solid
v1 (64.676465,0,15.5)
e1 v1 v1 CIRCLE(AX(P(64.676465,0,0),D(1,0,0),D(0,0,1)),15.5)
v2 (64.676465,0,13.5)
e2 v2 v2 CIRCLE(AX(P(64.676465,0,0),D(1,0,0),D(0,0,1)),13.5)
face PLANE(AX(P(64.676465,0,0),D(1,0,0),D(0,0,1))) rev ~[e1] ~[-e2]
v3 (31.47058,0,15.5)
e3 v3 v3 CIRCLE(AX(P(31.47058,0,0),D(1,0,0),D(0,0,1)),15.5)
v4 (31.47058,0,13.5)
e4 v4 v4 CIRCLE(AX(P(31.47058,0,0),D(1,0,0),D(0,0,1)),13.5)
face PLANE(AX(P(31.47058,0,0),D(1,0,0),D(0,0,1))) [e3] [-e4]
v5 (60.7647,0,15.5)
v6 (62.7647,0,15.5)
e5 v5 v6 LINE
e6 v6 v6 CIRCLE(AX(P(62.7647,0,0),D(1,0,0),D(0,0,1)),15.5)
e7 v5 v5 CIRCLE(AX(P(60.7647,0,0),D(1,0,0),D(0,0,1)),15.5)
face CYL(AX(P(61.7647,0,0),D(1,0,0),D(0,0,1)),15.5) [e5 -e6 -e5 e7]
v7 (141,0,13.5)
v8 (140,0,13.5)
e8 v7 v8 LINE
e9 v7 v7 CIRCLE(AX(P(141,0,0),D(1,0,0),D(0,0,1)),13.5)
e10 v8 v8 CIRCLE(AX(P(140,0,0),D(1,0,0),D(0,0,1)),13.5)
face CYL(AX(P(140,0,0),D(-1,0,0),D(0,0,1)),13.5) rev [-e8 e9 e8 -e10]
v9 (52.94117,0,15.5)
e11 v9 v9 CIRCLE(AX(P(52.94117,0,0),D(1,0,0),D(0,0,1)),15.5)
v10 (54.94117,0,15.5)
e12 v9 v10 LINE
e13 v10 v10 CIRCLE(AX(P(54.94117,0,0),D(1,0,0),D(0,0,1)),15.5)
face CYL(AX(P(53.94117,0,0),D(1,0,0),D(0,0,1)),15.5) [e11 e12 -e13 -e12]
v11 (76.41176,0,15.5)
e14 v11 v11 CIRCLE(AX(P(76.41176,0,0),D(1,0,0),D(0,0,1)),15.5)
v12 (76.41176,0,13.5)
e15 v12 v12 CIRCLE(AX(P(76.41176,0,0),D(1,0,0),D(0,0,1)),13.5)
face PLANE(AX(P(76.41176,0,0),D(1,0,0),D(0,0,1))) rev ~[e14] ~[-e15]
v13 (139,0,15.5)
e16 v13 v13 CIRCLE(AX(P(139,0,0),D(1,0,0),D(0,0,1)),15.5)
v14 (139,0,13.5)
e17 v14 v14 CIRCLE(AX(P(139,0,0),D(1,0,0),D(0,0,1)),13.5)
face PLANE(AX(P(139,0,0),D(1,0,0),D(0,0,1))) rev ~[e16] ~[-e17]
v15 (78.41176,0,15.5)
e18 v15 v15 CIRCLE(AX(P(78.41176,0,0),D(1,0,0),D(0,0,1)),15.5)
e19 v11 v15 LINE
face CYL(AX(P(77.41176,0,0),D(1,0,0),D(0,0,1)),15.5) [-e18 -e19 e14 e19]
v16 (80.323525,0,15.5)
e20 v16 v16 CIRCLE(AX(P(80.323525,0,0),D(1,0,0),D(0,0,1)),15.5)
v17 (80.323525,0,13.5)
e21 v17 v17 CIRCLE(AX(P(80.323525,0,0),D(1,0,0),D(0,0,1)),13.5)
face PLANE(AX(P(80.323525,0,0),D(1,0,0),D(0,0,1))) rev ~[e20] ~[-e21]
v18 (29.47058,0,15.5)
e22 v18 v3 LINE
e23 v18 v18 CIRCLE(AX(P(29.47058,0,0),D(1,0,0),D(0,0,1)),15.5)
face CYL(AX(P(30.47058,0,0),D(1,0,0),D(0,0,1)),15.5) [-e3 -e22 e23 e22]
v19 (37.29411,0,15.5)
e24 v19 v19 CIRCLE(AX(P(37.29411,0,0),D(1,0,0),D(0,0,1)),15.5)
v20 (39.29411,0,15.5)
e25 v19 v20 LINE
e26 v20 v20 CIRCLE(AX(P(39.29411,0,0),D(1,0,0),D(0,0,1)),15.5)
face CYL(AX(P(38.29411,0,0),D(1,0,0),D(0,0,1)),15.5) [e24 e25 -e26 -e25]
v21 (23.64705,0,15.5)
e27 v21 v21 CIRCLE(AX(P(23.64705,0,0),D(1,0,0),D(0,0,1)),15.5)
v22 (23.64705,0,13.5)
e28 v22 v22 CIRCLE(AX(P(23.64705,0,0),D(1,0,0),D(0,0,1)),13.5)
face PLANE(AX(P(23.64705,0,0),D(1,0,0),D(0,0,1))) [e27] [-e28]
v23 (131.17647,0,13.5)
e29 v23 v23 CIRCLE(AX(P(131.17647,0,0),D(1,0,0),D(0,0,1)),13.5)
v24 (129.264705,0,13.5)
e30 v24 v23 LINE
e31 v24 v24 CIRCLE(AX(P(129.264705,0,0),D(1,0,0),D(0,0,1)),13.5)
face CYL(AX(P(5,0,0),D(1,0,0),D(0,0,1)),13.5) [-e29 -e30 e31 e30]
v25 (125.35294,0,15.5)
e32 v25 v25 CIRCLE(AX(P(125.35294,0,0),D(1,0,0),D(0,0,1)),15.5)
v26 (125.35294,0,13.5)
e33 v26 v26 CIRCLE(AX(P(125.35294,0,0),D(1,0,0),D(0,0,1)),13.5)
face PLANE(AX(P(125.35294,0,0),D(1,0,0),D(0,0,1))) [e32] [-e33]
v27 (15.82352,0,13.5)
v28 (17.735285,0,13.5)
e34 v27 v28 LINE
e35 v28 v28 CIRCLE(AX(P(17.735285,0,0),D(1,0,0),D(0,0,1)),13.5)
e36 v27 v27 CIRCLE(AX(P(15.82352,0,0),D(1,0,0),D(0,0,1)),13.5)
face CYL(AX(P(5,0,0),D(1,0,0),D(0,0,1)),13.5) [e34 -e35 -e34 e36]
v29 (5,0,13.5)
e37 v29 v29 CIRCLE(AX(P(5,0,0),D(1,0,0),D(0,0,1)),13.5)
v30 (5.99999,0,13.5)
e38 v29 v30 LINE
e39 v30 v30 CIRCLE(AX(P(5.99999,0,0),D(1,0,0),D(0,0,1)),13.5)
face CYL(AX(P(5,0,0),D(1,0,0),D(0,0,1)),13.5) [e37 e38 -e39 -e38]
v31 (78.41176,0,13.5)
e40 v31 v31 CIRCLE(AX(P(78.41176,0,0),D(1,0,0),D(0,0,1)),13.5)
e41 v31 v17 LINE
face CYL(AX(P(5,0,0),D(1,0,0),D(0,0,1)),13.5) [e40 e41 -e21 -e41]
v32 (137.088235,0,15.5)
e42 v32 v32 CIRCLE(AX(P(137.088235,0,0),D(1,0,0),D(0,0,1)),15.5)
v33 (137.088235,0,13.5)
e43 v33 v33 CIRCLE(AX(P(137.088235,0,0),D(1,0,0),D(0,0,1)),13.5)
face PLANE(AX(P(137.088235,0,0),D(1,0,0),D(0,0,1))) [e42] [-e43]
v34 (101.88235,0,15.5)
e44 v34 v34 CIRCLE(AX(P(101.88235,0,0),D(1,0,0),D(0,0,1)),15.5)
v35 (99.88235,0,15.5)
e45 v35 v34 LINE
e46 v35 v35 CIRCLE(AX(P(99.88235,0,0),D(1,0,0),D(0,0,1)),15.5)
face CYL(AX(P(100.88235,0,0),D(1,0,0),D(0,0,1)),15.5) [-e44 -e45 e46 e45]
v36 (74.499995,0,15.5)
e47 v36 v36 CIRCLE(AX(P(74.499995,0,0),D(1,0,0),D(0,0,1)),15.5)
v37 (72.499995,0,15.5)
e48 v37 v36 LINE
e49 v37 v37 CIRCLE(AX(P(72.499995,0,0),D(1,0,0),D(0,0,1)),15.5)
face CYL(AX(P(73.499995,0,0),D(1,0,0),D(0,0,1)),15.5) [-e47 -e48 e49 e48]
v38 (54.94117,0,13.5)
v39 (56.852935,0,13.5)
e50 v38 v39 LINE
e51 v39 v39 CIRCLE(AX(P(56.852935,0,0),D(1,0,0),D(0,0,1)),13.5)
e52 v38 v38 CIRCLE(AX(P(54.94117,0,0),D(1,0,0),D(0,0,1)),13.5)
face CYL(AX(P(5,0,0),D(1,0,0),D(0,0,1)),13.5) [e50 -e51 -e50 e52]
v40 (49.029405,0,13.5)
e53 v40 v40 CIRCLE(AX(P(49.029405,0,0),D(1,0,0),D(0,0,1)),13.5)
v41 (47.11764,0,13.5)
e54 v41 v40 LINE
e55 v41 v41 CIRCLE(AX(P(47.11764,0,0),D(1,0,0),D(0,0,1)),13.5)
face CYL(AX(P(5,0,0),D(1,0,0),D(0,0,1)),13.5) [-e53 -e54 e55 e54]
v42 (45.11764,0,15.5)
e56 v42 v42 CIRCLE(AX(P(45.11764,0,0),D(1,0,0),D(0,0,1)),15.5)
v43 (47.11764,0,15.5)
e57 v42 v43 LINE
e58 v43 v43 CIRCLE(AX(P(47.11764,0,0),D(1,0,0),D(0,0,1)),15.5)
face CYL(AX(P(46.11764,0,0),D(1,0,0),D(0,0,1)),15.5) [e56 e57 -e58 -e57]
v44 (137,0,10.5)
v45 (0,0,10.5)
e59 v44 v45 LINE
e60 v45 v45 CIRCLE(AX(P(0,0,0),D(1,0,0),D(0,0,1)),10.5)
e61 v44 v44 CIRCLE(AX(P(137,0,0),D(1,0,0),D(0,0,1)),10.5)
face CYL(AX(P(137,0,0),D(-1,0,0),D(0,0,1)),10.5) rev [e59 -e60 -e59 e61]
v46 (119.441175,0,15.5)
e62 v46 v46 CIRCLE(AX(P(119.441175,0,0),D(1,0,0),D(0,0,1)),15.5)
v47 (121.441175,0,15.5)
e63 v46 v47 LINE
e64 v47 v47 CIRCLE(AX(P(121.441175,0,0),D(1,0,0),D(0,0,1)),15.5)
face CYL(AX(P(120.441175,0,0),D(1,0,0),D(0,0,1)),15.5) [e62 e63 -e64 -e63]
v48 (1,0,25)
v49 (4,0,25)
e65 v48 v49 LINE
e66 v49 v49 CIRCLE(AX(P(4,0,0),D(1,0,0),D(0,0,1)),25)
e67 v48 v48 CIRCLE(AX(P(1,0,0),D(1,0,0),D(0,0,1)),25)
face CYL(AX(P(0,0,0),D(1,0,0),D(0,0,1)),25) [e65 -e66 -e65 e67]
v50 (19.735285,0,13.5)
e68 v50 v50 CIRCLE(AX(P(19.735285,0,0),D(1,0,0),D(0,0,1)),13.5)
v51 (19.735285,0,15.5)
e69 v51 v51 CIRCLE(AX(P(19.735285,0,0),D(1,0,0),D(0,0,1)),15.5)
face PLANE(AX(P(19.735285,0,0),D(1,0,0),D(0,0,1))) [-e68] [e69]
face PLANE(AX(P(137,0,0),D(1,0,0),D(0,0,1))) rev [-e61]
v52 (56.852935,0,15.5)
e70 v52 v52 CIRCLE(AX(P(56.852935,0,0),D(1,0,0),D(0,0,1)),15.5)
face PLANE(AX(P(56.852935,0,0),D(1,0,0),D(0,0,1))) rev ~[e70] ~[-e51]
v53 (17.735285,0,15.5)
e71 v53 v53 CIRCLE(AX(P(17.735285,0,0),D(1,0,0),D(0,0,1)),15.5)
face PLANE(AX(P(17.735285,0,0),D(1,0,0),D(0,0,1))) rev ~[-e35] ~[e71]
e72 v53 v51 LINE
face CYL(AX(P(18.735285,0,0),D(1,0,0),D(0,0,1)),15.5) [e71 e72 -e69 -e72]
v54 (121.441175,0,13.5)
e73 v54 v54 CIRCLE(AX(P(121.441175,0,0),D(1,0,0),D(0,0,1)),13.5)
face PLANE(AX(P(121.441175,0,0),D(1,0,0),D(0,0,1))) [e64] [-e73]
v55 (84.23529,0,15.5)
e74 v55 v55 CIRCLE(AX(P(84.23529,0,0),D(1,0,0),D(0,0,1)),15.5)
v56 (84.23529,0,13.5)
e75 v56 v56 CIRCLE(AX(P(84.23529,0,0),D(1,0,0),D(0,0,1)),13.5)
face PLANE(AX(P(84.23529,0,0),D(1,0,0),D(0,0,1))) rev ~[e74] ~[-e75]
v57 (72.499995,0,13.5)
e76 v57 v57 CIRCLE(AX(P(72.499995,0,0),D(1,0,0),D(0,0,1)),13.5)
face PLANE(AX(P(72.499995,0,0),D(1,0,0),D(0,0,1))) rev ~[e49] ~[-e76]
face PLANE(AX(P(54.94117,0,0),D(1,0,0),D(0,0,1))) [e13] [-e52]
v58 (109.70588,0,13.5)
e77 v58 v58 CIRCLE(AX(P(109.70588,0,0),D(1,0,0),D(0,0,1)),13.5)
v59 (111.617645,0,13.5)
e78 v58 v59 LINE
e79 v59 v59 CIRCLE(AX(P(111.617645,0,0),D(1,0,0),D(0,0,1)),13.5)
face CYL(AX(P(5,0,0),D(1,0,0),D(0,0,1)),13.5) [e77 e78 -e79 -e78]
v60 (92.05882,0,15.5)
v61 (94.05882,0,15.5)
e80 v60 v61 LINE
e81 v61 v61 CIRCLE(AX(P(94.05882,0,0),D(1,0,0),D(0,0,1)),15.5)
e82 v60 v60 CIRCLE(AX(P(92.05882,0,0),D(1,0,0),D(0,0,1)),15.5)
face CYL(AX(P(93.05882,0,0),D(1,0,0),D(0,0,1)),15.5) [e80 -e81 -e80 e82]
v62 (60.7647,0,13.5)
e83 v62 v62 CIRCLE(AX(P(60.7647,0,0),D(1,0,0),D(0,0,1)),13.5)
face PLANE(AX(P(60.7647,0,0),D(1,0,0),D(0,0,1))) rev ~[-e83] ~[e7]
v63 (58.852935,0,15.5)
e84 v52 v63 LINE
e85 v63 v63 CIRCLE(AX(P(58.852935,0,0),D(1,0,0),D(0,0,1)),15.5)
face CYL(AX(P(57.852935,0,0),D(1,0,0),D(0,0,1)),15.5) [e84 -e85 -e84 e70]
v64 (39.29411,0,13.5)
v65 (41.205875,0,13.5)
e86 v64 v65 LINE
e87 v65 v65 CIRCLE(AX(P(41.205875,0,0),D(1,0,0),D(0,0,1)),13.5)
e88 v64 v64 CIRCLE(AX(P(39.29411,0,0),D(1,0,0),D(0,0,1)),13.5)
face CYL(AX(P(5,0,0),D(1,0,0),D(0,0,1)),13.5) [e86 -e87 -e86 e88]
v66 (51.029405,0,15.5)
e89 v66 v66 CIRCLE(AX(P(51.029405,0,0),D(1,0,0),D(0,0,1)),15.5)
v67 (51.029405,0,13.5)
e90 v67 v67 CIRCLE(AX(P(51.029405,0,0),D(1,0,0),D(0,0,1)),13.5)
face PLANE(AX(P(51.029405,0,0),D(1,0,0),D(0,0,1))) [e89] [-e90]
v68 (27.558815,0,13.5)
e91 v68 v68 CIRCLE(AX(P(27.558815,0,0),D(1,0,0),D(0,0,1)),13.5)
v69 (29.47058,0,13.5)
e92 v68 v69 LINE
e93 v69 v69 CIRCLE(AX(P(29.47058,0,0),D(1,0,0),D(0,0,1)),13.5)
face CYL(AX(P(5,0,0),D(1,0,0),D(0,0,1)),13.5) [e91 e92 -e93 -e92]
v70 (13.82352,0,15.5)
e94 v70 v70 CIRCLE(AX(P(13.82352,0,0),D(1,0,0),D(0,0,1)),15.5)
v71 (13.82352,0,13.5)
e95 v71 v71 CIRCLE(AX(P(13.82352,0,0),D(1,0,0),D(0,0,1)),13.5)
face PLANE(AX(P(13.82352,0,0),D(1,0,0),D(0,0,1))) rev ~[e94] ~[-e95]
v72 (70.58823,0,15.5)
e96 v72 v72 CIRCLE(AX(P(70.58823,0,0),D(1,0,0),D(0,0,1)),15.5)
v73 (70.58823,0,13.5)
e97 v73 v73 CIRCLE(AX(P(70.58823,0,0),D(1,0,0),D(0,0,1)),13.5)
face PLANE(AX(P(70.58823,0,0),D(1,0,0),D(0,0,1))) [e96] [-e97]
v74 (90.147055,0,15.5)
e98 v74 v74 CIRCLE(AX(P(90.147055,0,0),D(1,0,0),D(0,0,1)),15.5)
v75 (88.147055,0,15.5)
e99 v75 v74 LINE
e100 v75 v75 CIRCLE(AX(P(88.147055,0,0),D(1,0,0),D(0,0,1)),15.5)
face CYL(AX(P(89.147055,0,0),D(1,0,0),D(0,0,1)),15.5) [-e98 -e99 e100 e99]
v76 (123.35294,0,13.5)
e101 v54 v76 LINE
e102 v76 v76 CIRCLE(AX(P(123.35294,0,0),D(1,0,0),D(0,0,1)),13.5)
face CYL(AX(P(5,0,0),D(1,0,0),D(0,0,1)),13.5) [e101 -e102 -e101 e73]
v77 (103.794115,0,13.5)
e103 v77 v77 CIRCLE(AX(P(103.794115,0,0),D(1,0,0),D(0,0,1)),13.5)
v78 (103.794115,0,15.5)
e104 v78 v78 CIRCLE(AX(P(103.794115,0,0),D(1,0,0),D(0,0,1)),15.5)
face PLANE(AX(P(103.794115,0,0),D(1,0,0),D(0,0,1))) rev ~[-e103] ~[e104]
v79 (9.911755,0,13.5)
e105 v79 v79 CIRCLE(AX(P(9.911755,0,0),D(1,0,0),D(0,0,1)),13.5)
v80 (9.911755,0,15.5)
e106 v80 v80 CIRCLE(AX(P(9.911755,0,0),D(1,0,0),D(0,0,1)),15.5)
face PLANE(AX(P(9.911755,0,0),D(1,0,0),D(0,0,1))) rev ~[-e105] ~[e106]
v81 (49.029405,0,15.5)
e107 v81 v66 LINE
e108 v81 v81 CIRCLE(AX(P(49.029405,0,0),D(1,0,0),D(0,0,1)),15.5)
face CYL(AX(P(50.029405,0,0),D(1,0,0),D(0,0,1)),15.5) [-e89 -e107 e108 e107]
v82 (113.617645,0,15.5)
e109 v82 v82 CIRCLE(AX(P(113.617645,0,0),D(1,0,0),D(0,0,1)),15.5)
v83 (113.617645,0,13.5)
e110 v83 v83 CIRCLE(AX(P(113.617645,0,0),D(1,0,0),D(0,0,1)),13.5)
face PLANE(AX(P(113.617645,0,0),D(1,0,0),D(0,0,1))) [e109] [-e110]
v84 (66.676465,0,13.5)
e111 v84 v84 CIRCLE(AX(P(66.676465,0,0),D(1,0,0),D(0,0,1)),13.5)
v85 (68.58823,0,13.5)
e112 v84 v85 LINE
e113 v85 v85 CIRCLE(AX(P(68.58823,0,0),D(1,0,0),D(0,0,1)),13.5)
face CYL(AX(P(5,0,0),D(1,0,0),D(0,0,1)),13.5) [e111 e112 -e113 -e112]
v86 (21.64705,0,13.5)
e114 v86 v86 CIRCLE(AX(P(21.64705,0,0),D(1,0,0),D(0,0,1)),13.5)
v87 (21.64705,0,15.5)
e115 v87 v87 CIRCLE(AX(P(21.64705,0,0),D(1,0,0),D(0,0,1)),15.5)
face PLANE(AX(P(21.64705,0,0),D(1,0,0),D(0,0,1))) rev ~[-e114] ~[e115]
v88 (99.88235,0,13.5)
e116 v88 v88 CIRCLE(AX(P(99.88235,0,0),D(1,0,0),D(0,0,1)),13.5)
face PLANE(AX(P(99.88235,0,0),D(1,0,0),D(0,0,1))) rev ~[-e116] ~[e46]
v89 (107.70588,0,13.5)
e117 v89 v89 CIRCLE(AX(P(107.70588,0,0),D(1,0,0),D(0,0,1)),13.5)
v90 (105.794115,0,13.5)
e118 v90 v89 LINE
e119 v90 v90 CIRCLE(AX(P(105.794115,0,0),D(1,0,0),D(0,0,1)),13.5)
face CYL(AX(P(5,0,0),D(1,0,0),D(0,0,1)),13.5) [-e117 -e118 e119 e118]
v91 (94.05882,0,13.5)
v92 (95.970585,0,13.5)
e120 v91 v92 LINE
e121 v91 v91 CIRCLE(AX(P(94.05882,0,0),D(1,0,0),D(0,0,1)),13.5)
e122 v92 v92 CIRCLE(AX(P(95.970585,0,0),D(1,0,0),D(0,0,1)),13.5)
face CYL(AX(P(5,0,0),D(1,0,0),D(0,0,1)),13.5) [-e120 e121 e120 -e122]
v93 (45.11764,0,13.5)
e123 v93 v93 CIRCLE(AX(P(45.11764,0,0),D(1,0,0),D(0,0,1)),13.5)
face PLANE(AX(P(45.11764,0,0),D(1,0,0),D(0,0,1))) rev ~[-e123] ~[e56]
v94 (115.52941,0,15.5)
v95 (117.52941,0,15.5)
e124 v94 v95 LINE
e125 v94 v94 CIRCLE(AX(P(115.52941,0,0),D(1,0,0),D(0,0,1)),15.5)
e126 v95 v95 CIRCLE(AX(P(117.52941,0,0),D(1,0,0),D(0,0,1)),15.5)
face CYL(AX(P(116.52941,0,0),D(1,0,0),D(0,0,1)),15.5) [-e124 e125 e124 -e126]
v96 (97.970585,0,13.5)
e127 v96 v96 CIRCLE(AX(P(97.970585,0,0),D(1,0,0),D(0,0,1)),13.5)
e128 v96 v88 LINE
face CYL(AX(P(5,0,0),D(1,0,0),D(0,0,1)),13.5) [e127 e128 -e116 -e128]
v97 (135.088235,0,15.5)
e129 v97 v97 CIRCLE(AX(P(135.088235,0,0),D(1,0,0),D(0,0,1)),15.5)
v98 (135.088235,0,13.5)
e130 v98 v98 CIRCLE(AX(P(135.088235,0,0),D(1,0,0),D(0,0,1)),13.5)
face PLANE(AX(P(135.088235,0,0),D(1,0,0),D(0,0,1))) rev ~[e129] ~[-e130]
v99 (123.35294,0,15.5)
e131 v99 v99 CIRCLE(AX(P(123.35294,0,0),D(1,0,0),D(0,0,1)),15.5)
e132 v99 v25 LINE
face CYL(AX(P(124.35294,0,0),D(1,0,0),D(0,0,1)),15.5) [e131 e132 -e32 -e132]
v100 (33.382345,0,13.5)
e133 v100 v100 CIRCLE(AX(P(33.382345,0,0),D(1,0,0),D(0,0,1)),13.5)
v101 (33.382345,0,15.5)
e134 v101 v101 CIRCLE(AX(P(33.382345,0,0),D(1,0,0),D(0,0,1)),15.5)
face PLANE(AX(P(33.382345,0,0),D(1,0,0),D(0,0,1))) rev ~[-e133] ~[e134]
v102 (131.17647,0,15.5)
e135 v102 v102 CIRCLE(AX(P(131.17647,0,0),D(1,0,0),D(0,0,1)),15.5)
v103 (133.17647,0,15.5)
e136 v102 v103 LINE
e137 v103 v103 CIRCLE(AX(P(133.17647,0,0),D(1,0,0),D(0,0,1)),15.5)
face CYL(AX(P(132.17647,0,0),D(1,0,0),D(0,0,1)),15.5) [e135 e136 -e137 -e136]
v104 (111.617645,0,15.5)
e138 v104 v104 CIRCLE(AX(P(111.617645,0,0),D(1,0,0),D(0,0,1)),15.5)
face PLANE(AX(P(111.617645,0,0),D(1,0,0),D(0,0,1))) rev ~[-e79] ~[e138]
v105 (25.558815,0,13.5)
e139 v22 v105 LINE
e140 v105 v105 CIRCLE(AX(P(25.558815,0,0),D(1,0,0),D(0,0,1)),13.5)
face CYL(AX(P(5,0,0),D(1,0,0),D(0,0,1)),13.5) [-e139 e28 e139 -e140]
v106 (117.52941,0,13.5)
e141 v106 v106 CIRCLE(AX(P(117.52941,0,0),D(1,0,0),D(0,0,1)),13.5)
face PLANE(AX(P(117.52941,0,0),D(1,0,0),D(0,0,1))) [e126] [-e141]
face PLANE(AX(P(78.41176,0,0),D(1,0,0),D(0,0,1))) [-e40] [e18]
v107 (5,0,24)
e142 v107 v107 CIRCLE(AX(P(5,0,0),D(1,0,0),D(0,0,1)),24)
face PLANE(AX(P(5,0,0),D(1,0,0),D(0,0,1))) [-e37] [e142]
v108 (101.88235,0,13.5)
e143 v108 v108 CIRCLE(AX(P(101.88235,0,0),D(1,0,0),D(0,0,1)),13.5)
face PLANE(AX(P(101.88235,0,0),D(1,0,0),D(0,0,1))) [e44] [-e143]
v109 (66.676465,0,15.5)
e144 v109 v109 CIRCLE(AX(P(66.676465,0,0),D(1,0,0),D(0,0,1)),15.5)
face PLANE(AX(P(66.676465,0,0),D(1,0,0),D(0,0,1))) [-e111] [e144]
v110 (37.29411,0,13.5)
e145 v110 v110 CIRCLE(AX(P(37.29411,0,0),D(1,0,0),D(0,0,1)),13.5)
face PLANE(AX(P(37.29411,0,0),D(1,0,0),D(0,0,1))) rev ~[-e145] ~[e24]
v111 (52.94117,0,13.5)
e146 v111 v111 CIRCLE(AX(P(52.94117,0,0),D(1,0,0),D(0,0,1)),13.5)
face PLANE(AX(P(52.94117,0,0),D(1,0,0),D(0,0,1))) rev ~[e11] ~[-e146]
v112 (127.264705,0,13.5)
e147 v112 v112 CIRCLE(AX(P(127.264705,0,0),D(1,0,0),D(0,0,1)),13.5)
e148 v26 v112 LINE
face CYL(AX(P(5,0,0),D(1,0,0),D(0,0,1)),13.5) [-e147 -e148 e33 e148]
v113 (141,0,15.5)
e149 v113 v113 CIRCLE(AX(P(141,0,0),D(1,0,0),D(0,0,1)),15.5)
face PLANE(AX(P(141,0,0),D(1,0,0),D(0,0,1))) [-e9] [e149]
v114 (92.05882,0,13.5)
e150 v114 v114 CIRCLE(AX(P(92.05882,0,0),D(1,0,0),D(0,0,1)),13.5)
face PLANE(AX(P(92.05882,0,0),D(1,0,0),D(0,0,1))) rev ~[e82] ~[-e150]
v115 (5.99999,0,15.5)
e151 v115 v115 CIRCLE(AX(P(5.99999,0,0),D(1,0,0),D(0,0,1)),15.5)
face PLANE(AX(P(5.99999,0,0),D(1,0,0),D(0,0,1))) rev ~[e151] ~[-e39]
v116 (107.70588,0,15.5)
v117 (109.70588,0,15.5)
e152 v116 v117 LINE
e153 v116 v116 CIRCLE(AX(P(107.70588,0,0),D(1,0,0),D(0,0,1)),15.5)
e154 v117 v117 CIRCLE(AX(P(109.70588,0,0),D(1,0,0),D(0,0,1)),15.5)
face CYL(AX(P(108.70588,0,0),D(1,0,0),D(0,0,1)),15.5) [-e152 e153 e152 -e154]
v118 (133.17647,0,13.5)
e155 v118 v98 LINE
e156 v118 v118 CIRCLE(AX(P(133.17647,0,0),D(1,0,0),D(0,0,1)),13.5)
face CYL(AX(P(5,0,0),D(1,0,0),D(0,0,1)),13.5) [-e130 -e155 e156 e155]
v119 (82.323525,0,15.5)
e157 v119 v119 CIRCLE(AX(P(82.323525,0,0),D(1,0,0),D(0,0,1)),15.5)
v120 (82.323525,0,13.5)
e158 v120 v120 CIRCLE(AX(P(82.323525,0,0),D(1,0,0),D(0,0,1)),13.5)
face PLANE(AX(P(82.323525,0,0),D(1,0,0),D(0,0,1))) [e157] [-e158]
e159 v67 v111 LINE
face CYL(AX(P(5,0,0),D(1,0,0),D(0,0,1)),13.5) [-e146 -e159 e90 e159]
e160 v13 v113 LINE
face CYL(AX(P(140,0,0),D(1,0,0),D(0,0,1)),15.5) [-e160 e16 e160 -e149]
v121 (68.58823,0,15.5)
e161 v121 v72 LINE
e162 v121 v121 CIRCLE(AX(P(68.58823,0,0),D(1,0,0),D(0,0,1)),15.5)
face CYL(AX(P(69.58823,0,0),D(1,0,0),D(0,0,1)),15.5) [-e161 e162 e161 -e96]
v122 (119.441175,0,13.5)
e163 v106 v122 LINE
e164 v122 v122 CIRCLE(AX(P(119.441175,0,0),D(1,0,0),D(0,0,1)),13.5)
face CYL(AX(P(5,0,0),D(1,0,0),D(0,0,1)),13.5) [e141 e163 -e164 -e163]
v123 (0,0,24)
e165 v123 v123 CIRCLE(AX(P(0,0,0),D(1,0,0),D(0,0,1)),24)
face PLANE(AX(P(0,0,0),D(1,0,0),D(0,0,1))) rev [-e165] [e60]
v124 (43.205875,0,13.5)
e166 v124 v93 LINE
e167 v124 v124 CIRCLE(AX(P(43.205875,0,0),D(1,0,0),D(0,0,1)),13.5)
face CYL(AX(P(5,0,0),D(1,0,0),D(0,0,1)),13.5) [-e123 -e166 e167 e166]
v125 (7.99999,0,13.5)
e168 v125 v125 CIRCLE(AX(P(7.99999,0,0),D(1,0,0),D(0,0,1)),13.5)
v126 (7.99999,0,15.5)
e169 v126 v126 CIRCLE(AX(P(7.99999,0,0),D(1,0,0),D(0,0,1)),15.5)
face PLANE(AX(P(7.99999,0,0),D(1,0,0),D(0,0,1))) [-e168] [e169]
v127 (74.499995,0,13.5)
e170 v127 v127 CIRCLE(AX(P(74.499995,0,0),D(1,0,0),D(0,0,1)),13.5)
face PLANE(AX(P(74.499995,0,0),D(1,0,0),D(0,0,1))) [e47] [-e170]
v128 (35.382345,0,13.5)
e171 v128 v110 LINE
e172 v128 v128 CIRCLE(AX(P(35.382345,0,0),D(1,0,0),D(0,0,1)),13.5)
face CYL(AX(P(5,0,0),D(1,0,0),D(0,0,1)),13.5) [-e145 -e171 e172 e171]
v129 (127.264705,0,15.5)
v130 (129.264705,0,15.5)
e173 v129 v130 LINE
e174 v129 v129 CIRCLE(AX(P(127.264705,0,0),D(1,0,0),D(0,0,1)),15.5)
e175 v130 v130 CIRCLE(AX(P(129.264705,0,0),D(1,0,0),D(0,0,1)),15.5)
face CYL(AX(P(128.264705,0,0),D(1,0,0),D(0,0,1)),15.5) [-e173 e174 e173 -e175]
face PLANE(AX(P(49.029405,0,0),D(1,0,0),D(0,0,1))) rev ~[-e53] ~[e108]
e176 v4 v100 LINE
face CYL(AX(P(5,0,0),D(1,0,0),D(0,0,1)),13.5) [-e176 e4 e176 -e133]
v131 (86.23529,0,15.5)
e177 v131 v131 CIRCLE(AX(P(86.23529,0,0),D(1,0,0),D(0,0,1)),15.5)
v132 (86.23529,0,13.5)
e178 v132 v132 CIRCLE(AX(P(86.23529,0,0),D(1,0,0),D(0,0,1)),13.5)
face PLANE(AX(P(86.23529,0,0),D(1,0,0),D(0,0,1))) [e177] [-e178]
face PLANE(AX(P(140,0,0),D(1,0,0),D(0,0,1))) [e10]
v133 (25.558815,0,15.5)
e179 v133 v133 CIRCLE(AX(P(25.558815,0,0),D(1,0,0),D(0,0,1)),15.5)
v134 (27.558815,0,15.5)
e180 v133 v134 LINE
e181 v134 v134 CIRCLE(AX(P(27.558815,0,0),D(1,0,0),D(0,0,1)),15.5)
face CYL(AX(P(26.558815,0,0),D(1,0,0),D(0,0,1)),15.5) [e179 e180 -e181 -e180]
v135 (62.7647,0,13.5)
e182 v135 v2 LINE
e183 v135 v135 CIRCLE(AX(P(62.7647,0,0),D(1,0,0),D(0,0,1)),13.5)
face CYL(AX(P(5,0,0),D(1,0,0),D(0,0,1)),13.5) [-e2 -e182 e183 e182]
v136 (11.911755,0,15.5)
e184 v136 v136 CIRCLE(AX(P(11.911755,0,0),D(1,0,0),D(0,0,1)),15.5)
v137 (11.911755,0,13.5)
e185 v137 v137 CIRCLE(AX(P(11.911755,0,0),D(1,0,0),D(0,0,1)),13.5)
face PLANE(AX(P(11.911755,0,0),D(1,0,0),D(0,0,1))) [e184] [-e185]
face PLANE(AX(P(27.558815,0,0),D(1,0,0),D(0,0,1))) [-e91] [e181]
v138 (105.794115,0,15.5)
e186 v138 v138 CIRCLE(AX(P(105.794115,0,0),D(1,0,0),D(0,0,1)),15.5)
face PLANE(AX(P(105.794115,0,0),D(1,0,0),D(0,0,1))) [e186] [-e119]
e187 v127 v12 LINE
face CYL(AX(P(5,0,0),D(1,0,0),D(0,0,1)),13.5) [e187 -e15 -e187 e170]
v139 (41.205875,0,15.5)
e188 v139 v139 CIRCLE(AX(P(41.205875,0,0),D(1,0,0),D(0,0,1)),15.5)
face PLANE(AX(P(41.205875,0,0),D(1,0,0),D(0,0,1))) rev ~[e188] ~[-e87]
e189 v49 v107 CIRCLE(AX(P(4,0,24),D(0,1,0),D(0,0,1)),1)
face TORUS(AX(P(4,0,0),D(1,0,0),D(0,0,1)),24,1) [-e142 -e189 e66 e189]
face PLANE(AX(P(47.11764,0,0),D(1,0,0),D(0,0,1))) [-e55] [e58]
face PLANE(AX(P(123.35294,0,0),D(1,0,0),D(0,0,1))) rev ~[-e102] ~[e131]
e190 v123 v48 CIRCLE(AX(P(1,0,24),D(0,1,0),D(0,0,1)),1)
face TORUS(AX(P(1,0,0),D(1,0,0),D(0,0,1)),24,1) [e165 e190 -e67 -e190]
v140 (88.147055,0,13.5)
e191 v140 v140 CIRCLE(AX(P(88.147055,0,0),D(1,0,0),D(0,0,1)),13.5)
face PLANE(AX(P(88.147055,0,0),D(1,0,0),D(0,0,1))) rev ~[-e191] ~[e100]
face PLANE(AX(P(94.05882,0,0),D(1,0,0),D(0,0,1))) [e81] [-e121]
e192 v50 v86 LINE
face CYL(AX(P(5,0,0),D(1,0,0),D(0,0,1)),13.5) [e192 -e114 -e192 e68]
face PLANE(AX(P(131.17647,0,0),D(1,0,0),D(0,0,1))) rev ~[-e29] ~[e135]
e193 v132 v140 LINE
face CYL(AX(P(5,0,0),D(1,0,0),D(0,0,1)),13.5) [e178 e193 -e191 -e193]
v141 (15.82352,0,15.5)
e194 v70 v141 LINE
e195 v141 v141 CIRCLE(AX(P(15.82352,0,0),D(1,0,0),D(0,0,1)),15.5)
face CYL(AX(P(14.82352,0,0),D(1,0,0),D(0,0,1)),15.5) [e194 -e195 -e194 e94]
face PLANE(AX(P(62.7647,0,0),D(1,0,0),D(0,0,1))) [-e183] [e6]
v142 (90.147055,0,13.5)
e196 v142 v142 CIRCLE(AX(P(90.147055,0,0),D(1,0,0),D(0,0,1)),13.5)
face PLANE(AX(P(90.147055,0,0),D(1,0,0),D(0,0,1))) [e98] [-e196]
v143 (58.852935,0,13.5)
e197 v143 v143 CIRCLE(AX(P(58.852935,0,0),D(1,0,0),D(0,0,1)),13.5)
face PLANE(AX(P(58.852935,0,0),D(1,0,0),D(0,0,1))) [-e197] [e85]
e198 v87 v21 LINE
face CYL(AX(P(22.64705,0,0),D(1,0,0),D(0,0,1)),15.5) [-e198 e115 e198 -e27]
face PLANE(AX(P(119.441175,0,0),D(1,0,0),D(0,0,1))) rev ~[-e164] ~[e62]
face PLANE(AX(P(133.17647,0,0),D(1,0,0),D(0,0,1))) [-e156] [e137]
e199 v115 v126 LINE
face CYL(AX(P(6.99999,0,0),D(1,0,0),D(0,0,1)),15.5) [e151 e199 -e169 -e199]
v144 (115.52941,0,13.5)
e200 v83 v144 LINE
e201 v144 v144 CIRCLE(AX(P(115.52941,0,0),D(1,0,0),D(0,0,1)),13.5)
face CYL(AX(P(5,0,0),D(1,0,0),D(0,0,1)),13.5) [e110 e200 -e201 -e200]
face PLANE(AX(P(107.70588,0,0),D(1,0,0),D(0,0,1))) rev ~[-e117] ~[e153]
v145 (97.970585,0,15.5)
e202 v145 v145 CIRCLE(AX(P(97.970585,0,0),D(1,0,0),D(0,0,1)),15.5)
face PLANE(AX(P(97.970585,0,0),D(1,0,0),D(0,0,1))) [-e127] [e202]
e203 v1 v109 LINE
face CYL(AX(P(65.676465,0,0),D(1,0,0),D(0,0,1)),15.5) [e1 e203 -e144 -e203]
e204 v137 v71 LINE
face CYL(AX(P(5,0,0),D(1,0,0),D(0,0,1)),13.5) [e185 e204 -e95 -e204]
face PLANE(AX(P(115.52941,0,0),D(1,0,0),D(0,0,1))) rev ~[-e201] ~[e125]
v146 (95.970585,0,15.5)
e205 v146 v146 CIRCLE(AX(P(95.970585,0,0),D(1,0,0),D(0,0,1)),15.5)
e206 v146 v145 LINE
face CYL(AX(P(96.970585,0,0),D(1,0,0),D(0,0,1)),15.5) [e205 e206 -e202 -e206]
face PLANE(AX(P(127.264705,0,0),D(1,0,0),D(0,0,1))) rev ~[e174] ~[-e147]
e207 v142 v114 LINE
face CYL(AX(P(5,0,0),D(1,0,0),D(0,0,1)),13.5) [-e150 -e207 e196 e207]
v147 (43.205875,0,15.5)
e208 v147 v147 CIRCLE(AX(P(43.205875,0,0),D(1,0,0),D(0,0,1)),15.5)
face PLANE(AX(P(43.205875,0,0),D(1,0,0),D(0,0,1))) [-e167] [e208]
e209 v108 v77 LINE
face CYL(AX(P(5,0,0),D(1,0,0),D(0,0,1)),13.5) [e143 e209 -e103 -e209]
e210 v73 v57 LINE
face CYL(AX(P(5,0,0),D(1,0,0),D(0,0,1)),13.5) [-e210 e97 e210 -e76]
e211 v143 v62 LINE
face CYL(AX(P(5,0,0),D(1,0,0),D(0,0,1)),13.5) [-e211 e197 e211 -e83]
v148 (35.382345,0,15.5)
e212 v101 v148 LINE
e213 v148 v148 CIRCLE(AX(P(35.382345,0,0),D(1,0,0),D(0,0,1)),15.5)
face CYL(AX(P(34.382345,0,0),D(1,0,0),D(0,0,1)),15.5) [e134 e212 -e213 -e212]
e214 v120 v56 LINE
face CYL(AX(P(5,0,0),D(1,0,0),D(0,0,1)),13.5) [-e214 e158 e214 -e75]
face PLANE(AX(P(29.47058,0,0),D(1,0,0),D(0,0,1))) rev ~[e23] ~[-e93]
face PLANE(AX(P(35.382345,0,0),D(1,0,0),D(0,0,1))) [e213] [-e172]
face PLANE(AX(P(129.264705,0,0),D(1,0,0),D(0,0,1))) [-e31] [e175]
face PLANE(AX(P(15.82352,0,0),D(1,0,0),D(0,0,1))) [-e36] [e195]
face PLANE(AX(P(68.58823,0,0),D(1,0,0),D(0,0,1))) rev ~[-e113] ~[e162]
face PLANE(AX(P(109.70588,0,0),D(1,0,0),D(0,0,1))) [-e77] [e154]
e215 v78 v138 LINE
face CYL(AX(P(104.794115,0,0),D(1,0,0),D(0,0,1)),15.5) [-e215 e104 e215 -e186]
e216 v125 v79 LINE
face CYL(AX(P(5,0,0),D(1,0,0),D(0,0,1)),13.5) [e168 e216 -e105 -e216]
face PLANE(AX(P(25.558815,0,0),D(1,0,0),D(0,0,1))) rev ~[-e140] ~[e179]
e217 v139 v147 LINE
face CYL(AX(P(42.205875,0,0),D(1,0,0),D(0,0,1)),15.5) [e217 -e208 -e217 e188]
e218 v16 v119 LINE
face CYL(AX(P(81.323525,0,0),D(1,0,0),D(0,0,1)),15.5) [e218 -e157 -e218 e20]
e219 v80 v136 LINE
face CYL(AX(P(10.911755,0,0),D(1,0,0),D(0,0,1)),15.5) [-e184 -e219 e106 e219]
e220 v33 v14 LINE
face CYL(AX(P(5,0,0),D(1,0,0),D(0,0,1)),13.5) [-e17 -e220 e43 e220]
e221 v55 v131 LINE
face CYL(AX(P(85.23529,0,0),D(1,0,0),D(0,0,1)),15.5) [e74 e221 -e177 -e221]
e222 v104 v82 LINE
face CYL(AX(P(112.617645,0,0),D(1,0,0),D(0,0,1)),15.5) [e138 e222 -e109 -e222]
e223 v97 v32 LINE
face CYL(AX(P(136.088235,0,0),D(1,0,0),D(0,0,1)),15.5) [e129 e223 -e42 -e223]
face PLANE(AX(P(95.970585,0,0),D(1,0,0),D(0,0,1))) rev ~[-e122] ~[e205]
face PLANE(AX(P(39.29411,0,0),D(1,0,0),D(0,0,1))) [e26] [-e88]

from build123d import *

# Parameters (mm, degrees)
FILLET_R            = 1
SKETCH001_R         = 15.5
SKETCH001_R_2       = 13.5
PAD_DEPTH           = 1
LINEARPATTERN_COUNT = 35
LINEARPATTERN_PITCH = 3.911765


with BuildPart() as part:
    # Sketch → Revolution (revolve)
    with BuildSketch(Plane.XZ):
        Polygon((140, 0), (137, 0), (137, 10.5), (0, 10.5), (0, 25), (5, 25), (5, 13.5), (140, 13.5), align=None)
    revolve(axis=Axis((0, 0, 0), (1, 0, 0)))

    # Fillet
    fillet_edges = [part.edges().sort_by_distance(p)[0] for p in [
        (0, 0, -25),
        (5, 0, -25),
        (2.5, 0, 25),
    ]]
    fillet(fillet_edges, radius=FILLET_R)

    # Sketch001 (on Face9 of Fillet) → Pad (new body, symmetric)
    with BuildSketch(Plane(origin=(140, 0, 0), x_dir=(0, 0, 1), z_dir=(1, 0, 0))):
        Circle(SKETCH001_R)
        Circle(SKETCH001_R_2, mode=Mode.SUBTRACT)
    pad = extrude(amount=PAD_DEPTH, both=True)

    # LinearPattern: Pad ×35
    with Locations(*[(-i * LINEARPATTERN_PITCH, 0, 0) for i in range(1, LINEARPATTERN_COUNT)]):
        add(pad)


solid = part.part
